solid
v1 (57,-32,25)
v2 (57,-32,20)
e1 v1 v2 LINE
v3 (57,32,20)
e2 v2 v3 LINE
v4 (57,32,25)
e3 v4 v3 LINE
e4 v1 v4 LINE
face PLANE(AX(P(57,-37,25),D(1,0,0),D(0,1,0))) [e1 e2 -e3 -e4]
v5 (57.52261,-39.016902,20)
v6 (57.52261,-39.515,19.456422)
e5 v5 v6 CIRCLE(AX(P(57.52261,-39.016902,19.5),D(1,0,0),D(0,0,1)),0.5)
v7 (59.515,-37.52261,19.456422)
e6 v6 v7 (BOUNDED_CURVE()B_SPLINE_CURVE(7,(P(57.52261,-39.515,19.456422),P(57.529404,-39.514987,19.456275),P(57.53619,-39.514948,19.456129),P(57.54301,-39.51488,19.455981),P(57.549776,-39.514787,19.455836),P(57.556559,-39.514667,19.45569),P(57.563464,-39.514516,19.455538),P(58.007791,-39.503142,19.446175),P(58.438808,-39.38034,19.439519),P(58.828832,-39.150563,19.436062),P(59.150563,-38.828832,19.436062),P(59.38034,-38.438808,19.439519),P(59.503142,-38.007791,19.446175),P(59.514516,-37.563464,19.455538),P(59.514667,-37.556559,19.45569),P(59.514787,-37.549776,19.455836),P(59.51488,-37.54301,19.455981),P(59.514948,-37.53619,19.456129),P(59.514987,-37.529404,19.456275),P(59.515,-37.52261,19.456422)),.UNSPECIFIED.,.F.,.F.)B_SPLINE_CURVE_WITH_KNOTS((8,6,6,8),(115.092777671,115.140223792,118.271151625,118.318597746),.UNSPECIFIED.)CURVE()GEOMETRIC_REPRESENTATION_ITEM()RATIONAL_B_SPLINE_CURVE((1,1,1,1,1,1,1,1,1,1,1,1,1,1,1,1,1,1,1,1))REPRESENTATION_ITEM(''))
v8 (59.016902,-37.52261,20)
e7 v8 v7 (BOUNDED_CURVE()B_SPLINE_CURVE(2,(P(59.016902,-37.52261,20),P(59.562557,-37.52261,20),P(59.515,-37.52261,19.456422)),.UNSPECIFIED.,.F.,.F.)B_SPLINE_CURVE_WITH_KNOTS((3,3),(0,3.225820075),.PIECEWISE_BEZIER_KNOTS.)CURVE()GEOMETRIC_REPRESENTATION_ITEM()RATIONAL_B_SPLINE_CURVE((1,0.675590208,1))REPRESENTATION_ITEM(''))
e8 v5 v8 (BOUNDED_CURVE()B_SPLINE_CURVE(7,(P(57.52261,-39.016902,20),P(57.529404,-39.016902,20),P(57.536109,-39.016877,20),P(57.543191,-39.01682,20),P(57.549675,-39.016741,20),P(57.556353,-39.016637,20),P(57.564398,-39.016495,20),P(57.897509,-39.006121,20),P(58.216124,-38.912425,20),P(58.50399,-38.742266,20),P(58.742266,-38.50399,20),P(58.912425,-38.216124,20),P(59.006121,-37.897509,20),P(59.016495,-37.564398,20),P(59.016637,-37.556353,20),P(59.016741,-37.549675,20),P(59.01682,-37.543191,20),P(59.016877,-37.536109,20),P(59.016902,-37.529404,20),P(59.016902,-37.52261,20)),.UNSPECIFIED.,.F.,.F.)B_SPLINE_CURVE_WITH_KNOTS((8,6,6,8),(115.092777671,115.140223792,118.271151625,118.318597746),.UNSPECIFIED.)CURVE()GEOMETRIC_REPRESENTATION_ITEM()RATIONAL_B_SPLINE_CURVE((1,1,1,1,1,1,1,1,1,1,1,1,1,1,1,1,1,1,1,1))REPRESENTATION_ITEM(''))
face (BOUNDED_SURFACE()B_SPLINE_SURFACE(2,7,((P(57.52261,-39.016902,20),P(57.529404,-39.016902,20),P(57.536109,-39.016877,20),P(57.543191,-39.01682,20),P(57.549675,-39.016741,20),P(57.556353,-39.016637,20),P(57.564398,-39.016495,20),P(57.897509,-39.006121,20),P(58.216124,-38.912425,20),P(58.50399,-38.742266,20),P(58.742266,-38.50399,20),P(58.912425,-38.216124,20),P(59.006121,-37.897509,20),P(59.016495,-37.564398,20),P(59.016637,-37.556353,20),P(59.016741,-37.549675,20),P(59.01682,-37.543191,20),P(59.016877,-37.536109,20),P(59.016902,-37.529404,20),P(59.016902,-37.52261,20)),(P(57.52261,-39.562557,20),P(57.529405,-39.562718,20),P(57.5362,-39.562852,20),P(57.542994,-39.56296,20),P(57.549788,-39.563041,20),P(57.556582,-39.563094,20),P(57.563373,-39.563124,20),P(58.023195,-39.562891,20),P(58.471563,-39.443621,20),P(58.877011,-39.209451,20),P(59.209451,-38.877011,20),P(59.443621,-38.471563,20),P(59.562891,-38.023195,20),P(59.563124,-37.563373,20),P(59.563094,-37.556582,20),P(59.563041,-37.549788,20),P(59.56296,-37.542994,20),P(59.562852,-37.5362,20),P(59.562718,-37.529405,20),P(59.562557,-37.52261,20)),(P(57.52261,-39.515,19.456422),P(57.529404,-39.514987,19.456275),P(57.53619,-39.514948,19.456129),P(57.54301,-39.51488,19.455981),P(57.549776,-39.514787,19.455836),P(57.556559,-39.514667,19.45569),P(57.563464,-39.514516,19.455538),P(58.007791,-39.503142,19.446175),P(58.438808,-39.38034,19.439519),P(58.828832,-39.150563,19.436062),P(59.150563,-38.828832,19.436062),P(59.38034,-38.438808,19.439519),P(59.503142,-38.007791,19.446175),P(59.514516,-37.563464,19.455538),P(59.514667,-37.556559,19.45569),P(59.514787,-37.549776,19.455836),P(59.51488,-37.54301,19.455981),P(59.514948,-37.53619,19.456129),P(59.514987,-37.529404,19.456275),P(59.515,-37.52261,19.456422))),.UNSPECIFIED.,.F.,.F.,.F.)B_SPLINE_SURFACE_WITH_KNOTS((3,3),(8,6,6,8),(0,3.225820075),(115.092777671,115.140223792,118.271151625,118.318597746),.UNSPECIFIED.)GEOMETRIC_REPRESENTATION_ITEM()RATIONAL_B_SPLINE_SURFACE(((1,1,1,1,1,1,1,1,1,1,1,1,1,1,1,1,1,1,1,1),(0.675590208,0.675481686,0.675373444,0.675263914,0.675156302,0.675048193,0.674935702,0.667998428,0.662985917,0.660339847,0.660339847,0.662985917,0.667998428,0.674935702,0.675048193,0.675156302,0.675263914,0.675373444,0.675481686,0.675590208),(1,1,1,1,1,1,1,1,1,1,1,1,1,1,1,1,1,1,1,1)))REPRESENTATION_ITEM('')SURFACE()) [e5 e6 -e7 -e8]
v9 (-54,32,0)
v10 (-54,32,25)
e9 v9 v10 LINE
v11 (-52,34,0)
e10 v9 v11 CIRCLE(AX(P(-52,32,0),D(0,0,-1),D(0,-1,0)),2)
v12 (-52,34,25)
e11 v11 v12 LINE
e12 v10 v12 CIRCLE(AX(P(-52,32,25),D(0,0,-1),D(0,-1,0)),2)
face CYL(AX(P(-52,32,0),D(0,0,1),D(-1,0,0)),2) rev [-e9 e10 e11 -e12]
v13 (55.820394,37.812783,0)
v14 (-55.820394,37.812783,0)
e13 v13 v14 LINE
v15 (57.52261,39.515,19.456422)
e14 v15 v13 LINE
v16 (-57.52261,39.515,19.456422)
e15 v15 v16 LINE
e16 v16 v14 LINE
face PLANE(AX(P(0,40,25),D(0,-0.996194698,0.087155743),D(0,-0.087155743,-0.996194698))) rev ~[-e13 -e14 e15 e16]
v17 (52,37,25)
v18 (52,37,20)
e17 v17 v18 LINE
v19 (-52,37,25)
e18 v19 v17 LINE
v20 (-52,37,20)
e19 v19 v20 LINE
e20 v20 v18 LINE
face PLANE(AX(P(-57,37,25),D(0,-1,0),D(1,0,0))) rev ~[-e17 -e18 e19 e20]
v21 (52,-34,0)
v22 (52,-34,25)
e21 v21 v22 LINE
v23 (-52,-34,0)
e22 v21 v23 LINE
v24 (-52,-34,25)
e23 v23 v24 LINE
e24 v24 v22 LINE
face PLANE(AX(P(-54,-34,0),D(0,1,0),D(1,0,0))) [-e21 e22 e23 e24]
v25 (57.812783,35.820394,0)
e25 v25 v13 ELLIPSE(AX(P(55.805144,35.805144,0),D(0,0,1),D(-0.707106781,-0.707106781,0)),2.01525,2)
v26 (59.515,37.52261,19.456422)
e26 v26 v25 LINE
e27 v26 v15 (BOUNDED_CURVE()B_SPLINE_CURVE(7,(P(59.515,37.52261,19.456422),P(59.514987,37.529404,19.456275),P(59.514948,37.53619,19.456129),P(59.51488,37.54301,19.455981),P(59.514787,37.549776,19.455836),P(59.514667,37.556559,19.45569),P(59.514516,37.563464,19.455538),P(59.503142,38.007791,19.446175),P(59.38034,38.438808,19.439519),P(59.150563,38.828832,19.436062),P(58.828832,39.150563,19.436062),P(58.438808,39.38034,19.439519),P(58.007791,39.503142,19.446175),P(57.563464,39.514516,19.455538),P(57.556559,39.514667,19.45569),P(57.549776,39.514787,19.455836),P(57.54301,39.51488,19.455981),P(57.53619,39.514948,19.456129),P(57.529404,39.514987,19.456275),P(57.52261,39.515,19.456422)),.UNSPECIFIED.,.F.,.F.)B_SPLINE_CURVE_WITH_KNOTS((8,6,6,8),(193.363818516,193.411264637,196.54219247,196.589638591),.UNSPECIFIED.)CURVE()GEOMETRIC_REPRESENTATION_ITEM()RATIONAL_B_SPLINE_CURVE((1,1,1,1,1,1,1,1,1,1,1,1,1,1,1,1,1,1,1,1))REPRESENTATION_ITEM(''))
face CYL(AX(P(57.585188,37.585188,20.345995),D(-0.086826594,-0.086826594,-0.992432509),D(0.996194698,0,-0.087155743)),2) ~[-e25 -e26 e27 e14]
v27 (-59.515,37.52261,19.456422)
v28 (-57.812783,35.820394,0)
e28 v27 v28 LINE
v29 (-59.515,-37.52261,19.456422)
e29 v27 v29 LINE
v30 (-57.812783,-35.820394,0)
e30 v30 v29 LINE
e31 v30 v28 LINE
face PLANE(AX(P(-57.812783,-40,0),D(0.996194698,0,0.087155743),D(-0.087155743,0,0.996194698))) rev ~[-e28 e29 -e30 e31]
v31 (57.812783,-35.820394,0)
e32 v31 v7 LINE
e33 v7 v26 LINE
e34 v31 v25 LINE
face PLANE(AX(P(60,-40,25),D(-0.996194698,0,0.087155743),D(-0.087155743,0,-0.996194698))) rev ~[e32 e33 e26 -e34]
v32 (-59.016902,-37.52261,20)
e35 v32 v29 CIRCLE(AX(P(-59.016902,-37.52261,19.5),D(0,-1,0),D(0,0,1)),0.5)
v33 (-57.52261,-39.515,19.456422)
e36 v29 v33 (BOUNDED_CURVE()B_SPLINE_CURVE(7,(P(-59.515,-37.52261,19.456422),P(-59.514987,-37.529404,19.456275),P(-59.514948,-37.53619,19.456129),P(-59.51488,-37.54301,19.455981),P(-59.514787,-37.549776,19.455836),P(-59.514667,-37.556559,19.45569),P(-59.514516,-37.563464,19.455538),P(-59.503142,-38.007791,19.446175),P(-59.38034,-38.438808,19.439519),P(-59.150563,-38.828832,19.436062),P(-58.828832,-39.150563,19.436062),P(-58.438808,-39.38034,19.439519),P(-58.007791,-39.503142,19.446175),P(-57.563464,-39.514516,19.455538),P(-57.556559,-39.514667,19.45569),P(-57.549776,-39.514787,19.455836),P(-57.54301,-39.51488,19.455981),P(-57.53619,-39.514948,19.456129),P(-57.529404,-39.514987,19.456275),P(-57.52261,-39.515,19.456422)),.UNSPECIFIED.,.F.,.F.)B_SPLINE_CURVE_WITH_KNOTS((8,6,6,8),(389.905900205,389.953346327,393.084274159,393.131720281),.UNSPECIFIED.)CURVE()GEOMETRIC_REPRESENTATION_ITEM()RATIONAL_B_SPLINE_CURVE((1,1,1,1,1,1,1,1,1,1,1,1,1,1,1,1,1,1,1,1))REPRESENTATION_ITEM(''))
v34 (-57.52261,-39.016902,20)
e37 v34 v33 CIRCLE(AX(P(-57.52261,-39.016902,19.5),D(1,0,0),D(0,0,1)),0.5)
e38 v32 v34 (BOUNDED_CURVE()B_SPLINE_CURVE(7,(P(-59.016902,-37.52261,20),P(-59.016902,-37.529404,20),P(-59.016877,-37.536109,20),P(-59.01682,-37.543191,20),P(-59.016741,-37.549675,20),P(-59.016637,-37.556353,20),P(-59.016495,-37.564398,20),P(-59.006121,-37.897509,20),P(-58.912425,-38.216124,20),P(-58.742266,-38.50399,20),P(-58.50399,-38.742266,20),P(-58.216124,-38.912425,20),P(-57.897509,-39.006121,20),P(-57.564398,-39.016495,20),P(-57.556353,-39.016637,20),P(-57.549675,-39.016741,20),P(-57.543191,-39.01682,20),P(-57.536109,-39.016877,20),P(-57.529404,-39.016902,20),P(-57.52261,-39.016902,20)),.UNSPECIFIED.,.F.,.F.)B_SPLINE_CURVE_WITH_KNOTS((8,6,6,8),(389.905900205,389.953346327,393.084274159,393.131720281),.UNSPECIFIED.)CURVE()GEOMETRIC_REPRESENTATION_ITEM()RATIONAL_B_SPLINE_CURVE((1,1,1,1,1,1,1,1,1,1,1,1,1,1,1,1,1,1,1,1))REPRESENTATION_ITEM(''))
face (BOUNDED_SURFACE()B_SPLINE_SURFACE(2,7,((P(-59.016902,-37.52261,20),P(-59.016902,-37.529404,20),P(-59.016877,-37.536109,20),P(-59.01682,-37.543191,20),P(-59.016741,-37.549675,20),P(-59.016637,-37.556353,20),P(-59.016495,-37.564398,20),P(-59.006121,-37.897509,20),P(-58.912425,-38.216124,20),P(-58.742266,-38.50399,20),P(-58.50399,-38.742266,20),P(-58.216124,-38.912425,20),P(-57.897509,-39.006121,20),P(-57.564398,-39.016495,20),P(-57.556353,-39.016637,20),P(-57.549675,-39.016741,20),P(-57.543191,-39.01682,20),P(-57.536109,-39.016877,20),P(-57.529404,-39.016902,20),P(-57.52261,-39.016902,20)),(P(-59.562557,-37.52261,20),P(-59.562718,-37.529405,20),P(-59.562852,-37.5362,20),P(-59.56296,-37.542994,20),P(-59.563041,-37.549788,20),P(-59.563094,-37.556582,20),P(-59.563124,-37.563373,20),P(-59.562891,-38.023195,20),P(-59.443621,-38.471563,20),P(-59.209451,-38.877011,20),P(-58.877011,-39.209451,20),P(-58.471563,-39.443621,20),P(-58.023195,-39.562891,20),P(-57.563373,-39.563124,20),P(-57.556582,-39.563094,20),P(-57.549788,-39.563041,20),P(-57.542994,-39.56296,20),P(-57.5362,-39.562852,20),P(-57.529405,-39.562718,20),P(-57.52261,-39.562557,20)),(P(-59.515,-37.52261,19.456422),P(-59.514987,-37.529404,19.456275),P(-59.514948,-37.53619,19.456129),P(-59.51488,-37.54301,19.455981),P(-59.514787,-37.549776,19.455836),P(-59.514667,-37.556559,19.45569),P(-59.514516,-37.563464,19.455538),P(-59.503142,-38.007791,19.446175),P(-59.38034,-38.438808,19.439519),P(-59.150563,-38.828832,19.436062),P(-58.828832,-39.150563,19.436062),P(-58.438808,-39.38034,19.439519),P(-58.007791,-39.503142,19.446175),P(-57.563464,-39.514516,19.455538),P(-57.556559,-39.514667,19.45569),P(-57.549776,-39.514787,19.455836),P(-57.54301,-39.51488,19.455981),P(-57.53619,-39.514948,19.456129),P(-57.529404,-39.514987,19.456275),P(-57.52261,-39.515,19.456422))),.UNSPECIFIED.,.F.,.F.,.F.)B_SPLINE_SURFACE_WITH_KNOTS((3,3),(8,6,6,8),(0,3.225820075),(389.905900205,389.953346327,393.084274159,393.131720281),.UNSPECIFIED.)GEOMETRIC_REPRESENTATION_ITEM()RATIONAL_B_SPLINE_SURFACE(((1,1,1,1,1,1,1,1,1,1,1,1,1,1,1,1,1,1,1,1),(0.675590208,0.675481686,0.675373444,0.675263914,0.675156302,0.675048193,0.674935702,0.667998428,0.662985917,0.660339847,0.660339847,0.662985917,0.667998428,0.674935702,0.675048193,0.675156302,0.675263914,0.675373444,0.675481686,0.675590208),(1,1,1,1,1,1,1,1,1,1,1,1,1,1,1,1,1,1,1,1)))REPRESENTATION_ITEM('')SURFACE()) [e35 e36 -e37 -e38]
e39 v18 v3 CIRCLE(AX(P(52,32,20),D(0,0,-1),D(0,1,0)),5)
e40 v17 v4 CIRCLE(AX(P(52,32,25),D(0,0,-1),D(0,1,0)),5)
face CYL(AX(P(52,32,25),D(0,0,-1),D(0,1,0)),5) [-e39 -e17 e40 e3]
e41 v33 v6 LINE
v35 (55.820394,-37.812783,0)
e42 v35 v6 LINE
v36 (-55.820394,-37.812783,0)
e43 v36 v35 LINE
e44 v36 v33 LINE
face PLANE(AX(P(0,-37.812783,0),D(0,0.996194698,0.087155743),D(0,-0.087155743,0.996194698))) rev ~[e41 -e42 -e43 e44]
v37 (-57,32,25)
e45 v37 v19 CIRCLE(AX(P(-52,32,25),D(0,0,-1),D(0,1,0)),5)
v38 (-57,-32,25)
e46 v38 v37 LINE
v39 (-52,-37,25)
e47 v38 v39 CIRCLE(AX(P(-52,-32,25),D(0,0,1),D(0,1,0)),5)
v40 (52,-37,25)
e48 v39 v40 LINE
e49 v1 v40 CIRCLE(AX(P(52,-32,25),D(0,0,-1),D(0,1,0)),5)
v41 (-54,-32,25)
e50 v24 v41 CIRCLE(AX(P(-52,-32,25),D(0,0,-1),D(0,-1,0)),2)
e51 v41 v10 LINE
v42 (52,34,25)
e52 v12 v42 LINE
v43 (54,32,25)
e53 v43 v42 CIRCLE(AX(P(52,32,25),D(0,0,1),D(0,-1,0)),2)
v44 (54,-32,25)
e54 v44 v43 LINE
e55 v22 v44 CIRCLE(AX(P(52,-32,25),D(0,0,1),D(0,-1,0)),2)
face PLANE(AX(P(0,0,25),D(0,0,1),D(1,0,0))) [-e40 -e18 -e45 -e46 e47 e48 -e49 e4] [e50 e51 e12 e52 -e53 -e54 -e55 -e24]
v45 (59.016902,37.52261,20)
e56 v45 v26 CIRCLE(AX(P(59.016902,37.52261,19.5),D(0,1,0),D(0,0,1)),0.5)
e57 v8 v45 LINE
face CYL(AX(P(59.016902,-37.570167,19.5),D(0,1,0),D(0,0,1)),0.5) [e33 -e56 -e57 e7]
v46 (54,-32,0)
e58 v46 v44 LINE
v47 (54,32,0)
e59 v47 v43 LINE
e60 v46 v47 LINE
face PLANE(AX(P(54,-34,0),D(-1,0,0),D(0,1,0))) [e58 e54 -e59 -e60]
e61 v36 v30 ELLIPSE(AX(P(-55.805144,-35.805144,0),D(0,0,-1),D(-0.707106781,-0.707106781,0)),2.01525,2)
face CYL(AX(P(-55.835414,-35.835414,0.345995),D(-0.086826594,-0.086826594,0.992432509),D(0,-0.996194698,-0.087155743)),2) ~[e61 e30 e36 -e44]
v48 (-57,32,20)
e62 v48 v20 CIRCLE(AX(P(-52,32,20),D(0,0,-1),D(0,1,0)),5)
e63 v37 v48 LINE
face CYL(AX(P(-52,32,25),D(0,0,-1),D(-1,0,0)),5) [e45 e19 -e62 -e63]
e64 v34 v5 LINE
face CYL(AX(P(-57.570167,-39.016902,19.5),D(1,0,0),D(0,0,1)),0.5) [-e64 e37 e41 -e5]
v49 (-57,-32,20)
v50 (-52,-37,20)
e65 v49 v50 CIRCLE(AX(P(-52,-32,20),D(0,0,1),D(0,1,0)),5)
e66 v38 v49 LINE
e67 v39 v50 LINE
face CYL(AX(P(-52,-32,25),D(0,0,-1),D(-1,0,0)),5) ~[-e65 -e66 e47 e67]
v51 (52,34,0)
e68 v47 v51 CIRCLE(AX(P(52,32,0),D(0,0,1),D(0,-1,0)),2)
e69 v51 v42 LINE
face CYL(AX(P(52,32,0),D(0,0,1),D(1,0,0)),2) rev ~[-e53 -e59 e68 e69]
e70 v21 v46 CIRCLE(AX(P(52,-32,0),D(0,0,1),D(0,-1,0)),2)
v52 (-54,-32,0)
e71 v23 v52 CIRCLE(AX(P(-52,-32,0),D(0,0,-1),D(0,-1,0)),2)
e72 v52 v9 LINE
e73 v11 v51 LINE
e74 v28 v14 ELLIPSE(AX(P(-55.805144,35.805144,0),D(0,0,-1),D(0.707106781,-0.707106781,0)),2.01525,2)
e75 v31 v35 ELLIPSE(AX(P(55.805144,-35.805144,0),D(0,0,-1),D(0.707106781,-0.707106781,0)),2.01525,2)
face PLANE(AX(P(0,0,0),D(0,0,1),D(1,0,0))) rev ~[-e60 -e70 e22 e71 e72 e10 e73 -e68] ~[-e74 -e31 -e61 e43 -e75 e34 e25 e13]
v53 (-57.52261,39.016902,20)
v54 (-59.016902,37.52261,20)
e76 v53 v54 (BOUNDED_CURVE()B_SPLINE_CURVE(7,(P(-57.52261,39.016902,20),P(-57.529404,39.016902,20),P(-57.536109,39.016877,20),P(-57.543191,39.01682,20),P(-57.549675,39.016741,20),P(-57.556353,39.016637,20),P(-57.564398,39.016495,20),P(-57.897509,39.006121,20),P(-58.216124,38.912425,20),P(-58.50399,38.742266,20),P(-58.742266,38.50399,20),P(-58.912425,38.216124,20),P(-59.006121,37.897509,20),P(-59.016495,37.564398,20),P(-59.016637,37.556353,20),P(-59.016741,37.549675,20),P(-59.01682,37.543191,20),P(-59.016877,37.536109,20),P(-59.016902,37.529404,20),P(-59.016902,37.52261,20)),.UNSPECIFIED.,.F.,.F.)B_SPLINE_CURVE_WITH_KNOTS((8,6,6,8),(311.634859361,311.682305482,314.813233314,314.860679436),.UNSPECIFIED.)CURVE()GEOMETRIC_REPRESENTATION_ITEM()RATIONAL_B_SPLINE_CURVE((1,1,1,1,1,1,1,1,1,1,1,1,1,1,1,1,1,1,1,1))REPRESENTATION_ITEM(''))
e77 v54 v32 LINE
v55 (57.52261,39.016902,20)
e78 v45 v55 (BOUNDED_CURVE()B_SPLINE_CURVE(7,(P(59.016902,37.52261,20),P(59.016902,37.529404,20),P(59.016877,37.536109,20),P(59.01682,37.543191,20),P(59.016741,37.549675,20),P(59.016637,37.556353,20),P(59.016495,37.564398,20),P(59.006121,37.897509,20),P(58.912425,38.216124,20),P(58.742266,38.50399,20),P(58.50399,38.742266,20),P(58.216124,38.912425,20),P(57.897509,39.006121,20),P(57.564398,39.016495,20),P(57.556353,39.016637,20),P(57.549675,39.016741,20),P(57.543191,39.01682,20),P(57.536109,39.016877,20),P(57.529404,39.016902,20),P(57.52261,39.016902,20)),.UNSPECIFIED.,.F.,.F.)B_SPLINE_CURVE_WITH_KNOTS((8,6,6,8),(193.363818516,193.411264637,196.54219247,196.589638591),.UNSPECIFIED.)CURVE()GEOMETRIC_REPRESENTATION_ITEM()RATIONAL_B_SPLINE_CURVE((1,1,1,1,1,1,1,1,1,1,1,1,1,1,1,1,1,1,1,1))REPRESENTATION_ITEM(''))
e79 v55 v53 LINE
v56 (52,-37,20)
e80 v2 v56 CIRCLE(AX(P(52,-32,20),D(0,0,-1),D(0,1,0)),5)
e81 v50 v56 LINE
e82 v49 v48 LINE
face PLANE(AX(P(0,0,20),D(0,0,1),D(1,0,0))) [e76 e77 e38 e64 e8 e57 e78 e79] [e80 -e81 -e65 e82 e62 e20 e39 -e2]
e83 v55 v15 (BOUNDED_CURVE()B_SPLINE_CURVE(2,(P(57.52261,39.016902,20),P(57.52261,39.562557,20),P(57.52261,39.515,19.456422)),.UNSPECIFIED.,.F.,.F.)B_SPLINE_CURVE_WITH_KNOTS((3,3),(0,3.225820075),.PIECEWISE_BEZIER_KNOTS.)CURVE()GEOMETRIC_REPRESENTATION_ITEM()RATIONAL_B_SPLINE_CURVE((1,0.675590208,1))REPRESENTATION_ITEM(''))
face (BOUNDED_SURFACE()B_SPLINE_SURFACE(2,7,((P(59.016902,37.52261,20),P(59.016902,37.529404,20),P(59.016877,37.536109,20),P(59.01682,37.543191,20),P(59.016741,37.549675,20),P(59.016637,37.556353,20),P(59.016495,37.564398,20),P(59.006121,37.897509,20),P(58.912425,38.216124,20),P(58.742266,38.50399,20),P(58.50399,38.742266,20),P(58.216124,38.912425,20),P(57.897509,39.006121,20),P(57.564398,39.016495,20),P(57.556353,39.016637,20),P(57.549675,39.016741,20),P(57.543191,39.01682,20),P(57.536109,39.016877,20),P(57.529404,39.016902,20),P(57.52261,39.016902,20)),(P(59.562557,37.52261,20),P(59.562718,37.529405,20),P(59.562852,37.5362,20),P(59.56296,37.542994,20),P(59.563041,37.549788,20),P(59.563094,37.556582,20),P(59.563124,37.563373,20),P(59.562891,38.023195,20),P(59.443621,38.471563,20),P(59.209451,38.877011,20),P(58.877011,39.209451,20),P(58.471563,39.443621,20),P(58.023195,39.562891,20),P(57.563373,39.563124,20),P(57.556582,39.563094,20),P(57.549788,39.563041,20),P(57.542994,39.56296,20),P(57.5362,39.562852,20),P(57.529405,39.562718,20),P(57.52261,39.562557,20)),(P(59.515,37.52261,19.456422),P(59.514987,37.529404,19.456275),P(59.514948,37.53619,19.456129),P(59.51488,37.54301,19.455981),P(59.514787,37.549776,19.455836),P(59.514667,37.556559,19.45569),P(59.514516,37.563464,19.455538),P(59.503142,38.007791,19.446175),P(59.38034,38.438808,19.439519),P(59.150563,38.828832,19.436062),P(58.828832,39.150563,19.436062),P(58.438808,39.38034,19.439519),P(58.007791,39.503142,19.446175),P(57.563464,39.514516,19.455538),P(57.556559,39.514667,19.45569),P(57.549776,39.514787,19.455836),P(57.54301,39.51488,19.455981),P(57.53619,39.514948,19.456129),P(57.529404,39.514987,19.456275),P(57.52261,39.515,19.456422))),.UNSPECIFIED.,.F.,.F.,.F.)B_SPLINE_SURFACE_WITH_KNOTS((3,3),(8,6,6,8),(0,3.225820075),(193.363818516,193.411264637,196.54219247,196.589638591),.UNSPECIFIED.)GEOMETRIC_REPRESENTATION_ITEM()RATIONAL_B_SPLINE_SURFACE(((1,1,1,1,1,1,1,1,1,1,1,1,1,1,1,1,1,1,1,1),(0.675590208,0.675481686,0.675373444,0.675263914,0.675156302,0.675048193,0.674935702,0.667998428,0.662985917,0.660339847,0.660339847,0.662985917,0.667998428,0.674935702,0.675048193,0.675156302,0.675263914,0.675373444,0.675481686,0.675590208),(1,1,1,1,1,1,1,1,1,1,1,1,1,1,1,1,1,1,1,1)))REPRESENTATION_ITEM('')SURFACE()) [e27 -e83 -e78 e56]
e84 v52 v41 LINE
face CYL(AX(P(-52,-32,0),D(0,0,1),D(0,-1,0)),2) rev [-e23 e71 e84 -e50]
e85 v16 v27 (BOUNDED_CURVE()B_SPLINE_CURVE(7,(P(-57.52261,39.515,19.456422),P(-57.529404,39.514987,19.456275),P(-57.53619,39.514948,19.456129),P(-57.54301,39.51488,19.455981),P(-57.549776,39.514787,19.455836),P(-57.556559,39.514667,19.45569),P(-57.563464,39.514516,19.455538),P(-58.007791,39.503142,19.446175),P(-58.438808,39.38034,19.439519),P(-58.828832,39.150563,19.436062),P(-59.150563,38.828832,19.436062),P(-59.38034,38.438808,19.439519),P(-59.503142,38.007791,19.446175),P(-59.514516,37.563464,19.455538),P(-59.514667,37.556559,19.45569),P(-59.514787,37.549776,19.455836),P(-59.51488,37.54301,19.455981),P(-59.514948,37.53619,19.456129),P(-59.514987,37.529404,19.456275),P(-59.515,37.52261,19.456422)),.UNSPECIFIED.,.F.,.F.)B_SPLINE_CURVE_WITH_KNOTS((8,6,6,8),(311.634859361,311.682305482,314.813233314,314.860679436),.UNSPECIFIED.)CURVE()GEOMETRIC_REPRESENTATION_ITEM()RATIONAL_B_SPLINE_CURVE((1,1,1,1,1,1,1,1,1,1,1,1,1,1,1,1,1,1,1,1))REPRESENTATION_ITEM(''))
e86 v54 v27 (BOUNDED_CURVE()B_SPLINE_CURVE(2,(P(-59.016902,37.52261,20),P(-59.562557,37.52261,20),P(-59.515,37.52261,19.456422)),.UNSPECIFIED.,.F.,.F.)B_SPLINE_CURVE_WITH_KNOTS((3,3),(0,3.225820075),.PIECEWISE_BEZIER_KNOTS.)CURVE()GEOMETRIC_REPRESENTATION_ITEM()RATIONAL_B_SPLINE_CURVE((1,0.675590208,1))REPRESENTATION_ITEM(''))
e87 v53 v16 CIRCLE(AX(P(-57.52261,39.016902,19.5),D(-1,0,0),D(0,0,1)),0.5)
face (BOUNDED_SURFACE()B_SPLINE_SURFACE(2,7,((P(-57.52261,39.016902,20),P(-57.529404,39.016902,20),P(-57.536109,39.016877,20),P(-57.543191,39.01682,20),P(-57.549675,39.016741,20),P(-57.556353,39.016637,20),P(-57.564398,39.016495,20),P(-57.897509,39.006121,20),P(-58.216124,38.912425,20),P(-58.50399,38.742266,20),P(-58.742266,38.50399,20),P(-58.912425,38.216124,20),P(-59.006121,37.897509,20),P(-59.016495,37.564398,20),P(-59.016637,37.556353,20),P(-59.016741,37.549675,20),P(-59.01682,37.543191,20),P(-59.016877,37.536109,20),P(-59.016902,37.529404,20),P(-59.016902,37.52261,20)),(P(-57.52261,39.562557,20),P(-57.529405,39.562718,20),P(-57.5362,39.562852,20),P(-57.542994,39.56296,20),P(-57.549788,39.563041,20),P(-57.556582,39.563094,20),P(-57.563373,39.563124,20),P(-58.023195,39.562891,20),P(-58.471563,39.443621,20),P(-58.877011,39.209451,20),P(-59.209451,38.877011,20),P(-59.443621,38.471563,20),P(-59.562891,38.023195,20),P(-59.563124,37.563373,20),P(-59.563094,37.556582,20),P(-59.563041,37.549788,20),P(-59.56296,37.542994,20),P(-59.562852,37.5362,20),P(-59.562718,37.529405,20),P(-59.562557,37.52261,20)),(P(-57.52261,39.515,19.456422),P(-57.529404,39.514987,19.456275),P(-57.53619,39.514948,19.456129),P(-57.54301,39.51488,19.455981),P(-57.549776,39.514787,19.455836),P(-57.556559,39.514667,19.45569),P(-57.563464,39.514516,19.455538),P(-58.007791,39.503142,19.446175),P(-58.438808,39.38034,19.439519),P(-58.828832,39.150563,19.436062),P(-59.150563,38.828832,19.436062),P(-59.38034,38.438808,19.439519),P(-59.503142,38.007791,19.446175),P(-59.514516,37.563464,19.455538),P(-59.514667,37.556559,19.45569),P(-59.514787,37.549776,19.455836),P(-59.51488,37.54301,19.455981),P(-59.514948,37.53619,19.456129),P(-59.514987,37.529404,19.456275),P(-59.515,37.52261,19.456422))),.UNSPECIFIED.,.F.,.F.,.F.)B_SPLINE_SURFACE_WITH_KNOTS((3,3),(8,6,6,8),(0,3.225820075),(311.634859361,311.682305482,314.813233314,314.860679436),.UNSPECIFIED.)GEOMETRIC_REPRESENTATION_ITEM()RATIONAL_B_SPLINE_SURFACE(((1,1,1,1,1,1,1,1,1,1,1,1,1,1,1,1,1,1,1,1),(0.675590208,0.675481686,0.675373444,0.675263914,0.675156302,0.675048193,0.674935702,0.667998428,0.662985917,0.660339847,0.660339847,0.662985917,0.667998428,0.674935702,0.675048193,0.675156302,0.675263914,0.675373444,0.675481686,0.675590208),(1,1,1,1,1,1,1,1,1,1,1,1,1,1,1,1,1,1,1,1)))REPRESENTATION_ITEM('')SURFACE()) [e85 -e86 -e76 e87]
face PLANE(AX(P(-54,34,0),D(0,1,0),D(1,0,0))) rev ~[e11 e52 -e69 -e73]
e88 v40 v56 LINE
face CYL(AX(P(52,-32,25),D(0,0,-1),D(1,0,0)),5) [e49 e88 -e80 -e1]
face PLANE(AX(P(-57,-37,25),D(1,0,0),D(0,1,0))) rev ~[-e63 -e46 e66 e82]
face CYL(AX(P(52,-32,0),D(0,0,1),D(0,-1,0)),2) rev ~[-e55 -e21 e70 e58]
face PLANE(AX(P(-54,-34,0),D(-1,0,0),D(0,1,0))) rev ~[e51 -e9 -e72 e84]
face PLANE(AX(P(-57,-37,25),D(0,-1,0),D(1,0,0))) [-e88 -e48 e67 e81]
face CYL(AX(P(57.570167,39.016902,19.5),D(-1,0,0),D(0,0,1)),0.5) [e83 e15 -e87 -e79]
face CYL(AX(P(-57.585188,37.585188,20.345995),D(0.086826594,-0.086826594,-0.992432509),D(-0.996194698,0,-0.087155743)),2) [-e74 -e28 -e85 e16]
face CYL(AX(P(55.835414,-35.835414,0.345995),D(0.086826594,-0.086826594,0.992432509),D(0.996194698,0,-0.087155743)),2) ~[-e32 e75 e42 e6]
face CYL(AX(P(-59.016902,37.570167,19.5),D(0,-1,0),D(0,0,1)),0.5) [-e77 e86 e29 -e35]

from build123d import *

# Parameters (mm, degrees)
F0_W          = 120
F0_H          = 80
F0_W_2        = 108
F0_H_2        = 68
F1_DEPTH      = 25
F3_DEPTH      = 80.001
F5_DEPTH      = 60.001
F5_DEPTH_BACK = 60.001
F6_W          = 120
F6_H          = 80
F6_W_2        = 114
F6_H_2        = 74
F7_DEPTH      = 5
F8_R          = 5
F9_R          = 2
F10_R         = 0.5
F11_R         = 2


with BuildPart() as f1:
    # F0 (on Top) → F1 (new body)
    with BuildSketch(Plane.XY):
        Rectangle(F0_W, F0_H)
        Rectangle(F0_W_2, F0_H_2, mode=Mode.SUBTRACT)
    extrude(amount=F1_DEPTH)

    # F2 (on face) → F3 (cut, through all)
    with BuildSketch(Plane.XZ.offset(40)):
        Polygon((-57.8127834119, 0), (-60, 25), (-75, 25), (-75, -19.6831412613), (75, -19.6831412613), (75, 25), (60, 25), (57.8127834119, 0), align=None)
    extrude(amount=-F3_DEPTH, mode=Mode.SUBTRACT)

    # F4 (on Right) → F5 (cut, two sides)
    with BuildSketch(Plane.YZ) as f5_sk:
        Polygon((55, 25), (40, 25), (37.8127834119, 0), (-37.8127834119, 0), (-40, 25), (-55, 25), (-55, -15), (55, -15), align=None)
    extrude(amount=-F5_DEPTH, mode=Mode.SUBTRACT)
    extrude(f5_sk.sketch, amount=F5_DEPTH_BACK, mode=Mode.SUBTRACT)

    # F6 (on face) → F7 (cut)
    with BuildSketch(Plane.XY.offset(25)):
        Rectangle(F6_W, F6_H)
        Rectangle(F6_W_2, F6_H_2, mode=Mode.SUBTRACT)
    extrude(amount=-F7_DEPTH, mode=Mode.SUBTRACT)

    # F8
    f8_edges = [f1.edges().sort_by_distance(p)[0] for p in [
        (-57, -37, 22.5),
        (-57, 37, 22.5),
        (57, -37, 22.5),
        (57, 37, 22.5),
    ]]
    fillet(f8_edges, radius=F8_R)

    # F9
    f9_edges = [f1.edges().sort_by_distance(p)[0] for p in [
        (-58.68767, -38.68767, 10),
        (-58.68767, 38.68767, 10),
        (58.68767, -38.68767, 10),
        (58.68767, 38.68767, 10),
    ]]
    fillet(f9_edges, radius=F9_R)

    # F10
    f10_edges = [f1.edges().sort_by_distance(p)[0] for p in [
        (0, -39.562557, 20),
    ]]
    fillet(f10_edges, radius=F10_R)

    # F11
    f11_edges = [f1.edges().sort_by_distance(p)[0] for p in [
        (-54, 34, 12.5),
        (-54, -34, 12.5),
        (54, -34, 12.5),
        (54, 34, 12.5),
    ]]
    fillet(f11_edges, radius=F11_R)


solid = f1.part
